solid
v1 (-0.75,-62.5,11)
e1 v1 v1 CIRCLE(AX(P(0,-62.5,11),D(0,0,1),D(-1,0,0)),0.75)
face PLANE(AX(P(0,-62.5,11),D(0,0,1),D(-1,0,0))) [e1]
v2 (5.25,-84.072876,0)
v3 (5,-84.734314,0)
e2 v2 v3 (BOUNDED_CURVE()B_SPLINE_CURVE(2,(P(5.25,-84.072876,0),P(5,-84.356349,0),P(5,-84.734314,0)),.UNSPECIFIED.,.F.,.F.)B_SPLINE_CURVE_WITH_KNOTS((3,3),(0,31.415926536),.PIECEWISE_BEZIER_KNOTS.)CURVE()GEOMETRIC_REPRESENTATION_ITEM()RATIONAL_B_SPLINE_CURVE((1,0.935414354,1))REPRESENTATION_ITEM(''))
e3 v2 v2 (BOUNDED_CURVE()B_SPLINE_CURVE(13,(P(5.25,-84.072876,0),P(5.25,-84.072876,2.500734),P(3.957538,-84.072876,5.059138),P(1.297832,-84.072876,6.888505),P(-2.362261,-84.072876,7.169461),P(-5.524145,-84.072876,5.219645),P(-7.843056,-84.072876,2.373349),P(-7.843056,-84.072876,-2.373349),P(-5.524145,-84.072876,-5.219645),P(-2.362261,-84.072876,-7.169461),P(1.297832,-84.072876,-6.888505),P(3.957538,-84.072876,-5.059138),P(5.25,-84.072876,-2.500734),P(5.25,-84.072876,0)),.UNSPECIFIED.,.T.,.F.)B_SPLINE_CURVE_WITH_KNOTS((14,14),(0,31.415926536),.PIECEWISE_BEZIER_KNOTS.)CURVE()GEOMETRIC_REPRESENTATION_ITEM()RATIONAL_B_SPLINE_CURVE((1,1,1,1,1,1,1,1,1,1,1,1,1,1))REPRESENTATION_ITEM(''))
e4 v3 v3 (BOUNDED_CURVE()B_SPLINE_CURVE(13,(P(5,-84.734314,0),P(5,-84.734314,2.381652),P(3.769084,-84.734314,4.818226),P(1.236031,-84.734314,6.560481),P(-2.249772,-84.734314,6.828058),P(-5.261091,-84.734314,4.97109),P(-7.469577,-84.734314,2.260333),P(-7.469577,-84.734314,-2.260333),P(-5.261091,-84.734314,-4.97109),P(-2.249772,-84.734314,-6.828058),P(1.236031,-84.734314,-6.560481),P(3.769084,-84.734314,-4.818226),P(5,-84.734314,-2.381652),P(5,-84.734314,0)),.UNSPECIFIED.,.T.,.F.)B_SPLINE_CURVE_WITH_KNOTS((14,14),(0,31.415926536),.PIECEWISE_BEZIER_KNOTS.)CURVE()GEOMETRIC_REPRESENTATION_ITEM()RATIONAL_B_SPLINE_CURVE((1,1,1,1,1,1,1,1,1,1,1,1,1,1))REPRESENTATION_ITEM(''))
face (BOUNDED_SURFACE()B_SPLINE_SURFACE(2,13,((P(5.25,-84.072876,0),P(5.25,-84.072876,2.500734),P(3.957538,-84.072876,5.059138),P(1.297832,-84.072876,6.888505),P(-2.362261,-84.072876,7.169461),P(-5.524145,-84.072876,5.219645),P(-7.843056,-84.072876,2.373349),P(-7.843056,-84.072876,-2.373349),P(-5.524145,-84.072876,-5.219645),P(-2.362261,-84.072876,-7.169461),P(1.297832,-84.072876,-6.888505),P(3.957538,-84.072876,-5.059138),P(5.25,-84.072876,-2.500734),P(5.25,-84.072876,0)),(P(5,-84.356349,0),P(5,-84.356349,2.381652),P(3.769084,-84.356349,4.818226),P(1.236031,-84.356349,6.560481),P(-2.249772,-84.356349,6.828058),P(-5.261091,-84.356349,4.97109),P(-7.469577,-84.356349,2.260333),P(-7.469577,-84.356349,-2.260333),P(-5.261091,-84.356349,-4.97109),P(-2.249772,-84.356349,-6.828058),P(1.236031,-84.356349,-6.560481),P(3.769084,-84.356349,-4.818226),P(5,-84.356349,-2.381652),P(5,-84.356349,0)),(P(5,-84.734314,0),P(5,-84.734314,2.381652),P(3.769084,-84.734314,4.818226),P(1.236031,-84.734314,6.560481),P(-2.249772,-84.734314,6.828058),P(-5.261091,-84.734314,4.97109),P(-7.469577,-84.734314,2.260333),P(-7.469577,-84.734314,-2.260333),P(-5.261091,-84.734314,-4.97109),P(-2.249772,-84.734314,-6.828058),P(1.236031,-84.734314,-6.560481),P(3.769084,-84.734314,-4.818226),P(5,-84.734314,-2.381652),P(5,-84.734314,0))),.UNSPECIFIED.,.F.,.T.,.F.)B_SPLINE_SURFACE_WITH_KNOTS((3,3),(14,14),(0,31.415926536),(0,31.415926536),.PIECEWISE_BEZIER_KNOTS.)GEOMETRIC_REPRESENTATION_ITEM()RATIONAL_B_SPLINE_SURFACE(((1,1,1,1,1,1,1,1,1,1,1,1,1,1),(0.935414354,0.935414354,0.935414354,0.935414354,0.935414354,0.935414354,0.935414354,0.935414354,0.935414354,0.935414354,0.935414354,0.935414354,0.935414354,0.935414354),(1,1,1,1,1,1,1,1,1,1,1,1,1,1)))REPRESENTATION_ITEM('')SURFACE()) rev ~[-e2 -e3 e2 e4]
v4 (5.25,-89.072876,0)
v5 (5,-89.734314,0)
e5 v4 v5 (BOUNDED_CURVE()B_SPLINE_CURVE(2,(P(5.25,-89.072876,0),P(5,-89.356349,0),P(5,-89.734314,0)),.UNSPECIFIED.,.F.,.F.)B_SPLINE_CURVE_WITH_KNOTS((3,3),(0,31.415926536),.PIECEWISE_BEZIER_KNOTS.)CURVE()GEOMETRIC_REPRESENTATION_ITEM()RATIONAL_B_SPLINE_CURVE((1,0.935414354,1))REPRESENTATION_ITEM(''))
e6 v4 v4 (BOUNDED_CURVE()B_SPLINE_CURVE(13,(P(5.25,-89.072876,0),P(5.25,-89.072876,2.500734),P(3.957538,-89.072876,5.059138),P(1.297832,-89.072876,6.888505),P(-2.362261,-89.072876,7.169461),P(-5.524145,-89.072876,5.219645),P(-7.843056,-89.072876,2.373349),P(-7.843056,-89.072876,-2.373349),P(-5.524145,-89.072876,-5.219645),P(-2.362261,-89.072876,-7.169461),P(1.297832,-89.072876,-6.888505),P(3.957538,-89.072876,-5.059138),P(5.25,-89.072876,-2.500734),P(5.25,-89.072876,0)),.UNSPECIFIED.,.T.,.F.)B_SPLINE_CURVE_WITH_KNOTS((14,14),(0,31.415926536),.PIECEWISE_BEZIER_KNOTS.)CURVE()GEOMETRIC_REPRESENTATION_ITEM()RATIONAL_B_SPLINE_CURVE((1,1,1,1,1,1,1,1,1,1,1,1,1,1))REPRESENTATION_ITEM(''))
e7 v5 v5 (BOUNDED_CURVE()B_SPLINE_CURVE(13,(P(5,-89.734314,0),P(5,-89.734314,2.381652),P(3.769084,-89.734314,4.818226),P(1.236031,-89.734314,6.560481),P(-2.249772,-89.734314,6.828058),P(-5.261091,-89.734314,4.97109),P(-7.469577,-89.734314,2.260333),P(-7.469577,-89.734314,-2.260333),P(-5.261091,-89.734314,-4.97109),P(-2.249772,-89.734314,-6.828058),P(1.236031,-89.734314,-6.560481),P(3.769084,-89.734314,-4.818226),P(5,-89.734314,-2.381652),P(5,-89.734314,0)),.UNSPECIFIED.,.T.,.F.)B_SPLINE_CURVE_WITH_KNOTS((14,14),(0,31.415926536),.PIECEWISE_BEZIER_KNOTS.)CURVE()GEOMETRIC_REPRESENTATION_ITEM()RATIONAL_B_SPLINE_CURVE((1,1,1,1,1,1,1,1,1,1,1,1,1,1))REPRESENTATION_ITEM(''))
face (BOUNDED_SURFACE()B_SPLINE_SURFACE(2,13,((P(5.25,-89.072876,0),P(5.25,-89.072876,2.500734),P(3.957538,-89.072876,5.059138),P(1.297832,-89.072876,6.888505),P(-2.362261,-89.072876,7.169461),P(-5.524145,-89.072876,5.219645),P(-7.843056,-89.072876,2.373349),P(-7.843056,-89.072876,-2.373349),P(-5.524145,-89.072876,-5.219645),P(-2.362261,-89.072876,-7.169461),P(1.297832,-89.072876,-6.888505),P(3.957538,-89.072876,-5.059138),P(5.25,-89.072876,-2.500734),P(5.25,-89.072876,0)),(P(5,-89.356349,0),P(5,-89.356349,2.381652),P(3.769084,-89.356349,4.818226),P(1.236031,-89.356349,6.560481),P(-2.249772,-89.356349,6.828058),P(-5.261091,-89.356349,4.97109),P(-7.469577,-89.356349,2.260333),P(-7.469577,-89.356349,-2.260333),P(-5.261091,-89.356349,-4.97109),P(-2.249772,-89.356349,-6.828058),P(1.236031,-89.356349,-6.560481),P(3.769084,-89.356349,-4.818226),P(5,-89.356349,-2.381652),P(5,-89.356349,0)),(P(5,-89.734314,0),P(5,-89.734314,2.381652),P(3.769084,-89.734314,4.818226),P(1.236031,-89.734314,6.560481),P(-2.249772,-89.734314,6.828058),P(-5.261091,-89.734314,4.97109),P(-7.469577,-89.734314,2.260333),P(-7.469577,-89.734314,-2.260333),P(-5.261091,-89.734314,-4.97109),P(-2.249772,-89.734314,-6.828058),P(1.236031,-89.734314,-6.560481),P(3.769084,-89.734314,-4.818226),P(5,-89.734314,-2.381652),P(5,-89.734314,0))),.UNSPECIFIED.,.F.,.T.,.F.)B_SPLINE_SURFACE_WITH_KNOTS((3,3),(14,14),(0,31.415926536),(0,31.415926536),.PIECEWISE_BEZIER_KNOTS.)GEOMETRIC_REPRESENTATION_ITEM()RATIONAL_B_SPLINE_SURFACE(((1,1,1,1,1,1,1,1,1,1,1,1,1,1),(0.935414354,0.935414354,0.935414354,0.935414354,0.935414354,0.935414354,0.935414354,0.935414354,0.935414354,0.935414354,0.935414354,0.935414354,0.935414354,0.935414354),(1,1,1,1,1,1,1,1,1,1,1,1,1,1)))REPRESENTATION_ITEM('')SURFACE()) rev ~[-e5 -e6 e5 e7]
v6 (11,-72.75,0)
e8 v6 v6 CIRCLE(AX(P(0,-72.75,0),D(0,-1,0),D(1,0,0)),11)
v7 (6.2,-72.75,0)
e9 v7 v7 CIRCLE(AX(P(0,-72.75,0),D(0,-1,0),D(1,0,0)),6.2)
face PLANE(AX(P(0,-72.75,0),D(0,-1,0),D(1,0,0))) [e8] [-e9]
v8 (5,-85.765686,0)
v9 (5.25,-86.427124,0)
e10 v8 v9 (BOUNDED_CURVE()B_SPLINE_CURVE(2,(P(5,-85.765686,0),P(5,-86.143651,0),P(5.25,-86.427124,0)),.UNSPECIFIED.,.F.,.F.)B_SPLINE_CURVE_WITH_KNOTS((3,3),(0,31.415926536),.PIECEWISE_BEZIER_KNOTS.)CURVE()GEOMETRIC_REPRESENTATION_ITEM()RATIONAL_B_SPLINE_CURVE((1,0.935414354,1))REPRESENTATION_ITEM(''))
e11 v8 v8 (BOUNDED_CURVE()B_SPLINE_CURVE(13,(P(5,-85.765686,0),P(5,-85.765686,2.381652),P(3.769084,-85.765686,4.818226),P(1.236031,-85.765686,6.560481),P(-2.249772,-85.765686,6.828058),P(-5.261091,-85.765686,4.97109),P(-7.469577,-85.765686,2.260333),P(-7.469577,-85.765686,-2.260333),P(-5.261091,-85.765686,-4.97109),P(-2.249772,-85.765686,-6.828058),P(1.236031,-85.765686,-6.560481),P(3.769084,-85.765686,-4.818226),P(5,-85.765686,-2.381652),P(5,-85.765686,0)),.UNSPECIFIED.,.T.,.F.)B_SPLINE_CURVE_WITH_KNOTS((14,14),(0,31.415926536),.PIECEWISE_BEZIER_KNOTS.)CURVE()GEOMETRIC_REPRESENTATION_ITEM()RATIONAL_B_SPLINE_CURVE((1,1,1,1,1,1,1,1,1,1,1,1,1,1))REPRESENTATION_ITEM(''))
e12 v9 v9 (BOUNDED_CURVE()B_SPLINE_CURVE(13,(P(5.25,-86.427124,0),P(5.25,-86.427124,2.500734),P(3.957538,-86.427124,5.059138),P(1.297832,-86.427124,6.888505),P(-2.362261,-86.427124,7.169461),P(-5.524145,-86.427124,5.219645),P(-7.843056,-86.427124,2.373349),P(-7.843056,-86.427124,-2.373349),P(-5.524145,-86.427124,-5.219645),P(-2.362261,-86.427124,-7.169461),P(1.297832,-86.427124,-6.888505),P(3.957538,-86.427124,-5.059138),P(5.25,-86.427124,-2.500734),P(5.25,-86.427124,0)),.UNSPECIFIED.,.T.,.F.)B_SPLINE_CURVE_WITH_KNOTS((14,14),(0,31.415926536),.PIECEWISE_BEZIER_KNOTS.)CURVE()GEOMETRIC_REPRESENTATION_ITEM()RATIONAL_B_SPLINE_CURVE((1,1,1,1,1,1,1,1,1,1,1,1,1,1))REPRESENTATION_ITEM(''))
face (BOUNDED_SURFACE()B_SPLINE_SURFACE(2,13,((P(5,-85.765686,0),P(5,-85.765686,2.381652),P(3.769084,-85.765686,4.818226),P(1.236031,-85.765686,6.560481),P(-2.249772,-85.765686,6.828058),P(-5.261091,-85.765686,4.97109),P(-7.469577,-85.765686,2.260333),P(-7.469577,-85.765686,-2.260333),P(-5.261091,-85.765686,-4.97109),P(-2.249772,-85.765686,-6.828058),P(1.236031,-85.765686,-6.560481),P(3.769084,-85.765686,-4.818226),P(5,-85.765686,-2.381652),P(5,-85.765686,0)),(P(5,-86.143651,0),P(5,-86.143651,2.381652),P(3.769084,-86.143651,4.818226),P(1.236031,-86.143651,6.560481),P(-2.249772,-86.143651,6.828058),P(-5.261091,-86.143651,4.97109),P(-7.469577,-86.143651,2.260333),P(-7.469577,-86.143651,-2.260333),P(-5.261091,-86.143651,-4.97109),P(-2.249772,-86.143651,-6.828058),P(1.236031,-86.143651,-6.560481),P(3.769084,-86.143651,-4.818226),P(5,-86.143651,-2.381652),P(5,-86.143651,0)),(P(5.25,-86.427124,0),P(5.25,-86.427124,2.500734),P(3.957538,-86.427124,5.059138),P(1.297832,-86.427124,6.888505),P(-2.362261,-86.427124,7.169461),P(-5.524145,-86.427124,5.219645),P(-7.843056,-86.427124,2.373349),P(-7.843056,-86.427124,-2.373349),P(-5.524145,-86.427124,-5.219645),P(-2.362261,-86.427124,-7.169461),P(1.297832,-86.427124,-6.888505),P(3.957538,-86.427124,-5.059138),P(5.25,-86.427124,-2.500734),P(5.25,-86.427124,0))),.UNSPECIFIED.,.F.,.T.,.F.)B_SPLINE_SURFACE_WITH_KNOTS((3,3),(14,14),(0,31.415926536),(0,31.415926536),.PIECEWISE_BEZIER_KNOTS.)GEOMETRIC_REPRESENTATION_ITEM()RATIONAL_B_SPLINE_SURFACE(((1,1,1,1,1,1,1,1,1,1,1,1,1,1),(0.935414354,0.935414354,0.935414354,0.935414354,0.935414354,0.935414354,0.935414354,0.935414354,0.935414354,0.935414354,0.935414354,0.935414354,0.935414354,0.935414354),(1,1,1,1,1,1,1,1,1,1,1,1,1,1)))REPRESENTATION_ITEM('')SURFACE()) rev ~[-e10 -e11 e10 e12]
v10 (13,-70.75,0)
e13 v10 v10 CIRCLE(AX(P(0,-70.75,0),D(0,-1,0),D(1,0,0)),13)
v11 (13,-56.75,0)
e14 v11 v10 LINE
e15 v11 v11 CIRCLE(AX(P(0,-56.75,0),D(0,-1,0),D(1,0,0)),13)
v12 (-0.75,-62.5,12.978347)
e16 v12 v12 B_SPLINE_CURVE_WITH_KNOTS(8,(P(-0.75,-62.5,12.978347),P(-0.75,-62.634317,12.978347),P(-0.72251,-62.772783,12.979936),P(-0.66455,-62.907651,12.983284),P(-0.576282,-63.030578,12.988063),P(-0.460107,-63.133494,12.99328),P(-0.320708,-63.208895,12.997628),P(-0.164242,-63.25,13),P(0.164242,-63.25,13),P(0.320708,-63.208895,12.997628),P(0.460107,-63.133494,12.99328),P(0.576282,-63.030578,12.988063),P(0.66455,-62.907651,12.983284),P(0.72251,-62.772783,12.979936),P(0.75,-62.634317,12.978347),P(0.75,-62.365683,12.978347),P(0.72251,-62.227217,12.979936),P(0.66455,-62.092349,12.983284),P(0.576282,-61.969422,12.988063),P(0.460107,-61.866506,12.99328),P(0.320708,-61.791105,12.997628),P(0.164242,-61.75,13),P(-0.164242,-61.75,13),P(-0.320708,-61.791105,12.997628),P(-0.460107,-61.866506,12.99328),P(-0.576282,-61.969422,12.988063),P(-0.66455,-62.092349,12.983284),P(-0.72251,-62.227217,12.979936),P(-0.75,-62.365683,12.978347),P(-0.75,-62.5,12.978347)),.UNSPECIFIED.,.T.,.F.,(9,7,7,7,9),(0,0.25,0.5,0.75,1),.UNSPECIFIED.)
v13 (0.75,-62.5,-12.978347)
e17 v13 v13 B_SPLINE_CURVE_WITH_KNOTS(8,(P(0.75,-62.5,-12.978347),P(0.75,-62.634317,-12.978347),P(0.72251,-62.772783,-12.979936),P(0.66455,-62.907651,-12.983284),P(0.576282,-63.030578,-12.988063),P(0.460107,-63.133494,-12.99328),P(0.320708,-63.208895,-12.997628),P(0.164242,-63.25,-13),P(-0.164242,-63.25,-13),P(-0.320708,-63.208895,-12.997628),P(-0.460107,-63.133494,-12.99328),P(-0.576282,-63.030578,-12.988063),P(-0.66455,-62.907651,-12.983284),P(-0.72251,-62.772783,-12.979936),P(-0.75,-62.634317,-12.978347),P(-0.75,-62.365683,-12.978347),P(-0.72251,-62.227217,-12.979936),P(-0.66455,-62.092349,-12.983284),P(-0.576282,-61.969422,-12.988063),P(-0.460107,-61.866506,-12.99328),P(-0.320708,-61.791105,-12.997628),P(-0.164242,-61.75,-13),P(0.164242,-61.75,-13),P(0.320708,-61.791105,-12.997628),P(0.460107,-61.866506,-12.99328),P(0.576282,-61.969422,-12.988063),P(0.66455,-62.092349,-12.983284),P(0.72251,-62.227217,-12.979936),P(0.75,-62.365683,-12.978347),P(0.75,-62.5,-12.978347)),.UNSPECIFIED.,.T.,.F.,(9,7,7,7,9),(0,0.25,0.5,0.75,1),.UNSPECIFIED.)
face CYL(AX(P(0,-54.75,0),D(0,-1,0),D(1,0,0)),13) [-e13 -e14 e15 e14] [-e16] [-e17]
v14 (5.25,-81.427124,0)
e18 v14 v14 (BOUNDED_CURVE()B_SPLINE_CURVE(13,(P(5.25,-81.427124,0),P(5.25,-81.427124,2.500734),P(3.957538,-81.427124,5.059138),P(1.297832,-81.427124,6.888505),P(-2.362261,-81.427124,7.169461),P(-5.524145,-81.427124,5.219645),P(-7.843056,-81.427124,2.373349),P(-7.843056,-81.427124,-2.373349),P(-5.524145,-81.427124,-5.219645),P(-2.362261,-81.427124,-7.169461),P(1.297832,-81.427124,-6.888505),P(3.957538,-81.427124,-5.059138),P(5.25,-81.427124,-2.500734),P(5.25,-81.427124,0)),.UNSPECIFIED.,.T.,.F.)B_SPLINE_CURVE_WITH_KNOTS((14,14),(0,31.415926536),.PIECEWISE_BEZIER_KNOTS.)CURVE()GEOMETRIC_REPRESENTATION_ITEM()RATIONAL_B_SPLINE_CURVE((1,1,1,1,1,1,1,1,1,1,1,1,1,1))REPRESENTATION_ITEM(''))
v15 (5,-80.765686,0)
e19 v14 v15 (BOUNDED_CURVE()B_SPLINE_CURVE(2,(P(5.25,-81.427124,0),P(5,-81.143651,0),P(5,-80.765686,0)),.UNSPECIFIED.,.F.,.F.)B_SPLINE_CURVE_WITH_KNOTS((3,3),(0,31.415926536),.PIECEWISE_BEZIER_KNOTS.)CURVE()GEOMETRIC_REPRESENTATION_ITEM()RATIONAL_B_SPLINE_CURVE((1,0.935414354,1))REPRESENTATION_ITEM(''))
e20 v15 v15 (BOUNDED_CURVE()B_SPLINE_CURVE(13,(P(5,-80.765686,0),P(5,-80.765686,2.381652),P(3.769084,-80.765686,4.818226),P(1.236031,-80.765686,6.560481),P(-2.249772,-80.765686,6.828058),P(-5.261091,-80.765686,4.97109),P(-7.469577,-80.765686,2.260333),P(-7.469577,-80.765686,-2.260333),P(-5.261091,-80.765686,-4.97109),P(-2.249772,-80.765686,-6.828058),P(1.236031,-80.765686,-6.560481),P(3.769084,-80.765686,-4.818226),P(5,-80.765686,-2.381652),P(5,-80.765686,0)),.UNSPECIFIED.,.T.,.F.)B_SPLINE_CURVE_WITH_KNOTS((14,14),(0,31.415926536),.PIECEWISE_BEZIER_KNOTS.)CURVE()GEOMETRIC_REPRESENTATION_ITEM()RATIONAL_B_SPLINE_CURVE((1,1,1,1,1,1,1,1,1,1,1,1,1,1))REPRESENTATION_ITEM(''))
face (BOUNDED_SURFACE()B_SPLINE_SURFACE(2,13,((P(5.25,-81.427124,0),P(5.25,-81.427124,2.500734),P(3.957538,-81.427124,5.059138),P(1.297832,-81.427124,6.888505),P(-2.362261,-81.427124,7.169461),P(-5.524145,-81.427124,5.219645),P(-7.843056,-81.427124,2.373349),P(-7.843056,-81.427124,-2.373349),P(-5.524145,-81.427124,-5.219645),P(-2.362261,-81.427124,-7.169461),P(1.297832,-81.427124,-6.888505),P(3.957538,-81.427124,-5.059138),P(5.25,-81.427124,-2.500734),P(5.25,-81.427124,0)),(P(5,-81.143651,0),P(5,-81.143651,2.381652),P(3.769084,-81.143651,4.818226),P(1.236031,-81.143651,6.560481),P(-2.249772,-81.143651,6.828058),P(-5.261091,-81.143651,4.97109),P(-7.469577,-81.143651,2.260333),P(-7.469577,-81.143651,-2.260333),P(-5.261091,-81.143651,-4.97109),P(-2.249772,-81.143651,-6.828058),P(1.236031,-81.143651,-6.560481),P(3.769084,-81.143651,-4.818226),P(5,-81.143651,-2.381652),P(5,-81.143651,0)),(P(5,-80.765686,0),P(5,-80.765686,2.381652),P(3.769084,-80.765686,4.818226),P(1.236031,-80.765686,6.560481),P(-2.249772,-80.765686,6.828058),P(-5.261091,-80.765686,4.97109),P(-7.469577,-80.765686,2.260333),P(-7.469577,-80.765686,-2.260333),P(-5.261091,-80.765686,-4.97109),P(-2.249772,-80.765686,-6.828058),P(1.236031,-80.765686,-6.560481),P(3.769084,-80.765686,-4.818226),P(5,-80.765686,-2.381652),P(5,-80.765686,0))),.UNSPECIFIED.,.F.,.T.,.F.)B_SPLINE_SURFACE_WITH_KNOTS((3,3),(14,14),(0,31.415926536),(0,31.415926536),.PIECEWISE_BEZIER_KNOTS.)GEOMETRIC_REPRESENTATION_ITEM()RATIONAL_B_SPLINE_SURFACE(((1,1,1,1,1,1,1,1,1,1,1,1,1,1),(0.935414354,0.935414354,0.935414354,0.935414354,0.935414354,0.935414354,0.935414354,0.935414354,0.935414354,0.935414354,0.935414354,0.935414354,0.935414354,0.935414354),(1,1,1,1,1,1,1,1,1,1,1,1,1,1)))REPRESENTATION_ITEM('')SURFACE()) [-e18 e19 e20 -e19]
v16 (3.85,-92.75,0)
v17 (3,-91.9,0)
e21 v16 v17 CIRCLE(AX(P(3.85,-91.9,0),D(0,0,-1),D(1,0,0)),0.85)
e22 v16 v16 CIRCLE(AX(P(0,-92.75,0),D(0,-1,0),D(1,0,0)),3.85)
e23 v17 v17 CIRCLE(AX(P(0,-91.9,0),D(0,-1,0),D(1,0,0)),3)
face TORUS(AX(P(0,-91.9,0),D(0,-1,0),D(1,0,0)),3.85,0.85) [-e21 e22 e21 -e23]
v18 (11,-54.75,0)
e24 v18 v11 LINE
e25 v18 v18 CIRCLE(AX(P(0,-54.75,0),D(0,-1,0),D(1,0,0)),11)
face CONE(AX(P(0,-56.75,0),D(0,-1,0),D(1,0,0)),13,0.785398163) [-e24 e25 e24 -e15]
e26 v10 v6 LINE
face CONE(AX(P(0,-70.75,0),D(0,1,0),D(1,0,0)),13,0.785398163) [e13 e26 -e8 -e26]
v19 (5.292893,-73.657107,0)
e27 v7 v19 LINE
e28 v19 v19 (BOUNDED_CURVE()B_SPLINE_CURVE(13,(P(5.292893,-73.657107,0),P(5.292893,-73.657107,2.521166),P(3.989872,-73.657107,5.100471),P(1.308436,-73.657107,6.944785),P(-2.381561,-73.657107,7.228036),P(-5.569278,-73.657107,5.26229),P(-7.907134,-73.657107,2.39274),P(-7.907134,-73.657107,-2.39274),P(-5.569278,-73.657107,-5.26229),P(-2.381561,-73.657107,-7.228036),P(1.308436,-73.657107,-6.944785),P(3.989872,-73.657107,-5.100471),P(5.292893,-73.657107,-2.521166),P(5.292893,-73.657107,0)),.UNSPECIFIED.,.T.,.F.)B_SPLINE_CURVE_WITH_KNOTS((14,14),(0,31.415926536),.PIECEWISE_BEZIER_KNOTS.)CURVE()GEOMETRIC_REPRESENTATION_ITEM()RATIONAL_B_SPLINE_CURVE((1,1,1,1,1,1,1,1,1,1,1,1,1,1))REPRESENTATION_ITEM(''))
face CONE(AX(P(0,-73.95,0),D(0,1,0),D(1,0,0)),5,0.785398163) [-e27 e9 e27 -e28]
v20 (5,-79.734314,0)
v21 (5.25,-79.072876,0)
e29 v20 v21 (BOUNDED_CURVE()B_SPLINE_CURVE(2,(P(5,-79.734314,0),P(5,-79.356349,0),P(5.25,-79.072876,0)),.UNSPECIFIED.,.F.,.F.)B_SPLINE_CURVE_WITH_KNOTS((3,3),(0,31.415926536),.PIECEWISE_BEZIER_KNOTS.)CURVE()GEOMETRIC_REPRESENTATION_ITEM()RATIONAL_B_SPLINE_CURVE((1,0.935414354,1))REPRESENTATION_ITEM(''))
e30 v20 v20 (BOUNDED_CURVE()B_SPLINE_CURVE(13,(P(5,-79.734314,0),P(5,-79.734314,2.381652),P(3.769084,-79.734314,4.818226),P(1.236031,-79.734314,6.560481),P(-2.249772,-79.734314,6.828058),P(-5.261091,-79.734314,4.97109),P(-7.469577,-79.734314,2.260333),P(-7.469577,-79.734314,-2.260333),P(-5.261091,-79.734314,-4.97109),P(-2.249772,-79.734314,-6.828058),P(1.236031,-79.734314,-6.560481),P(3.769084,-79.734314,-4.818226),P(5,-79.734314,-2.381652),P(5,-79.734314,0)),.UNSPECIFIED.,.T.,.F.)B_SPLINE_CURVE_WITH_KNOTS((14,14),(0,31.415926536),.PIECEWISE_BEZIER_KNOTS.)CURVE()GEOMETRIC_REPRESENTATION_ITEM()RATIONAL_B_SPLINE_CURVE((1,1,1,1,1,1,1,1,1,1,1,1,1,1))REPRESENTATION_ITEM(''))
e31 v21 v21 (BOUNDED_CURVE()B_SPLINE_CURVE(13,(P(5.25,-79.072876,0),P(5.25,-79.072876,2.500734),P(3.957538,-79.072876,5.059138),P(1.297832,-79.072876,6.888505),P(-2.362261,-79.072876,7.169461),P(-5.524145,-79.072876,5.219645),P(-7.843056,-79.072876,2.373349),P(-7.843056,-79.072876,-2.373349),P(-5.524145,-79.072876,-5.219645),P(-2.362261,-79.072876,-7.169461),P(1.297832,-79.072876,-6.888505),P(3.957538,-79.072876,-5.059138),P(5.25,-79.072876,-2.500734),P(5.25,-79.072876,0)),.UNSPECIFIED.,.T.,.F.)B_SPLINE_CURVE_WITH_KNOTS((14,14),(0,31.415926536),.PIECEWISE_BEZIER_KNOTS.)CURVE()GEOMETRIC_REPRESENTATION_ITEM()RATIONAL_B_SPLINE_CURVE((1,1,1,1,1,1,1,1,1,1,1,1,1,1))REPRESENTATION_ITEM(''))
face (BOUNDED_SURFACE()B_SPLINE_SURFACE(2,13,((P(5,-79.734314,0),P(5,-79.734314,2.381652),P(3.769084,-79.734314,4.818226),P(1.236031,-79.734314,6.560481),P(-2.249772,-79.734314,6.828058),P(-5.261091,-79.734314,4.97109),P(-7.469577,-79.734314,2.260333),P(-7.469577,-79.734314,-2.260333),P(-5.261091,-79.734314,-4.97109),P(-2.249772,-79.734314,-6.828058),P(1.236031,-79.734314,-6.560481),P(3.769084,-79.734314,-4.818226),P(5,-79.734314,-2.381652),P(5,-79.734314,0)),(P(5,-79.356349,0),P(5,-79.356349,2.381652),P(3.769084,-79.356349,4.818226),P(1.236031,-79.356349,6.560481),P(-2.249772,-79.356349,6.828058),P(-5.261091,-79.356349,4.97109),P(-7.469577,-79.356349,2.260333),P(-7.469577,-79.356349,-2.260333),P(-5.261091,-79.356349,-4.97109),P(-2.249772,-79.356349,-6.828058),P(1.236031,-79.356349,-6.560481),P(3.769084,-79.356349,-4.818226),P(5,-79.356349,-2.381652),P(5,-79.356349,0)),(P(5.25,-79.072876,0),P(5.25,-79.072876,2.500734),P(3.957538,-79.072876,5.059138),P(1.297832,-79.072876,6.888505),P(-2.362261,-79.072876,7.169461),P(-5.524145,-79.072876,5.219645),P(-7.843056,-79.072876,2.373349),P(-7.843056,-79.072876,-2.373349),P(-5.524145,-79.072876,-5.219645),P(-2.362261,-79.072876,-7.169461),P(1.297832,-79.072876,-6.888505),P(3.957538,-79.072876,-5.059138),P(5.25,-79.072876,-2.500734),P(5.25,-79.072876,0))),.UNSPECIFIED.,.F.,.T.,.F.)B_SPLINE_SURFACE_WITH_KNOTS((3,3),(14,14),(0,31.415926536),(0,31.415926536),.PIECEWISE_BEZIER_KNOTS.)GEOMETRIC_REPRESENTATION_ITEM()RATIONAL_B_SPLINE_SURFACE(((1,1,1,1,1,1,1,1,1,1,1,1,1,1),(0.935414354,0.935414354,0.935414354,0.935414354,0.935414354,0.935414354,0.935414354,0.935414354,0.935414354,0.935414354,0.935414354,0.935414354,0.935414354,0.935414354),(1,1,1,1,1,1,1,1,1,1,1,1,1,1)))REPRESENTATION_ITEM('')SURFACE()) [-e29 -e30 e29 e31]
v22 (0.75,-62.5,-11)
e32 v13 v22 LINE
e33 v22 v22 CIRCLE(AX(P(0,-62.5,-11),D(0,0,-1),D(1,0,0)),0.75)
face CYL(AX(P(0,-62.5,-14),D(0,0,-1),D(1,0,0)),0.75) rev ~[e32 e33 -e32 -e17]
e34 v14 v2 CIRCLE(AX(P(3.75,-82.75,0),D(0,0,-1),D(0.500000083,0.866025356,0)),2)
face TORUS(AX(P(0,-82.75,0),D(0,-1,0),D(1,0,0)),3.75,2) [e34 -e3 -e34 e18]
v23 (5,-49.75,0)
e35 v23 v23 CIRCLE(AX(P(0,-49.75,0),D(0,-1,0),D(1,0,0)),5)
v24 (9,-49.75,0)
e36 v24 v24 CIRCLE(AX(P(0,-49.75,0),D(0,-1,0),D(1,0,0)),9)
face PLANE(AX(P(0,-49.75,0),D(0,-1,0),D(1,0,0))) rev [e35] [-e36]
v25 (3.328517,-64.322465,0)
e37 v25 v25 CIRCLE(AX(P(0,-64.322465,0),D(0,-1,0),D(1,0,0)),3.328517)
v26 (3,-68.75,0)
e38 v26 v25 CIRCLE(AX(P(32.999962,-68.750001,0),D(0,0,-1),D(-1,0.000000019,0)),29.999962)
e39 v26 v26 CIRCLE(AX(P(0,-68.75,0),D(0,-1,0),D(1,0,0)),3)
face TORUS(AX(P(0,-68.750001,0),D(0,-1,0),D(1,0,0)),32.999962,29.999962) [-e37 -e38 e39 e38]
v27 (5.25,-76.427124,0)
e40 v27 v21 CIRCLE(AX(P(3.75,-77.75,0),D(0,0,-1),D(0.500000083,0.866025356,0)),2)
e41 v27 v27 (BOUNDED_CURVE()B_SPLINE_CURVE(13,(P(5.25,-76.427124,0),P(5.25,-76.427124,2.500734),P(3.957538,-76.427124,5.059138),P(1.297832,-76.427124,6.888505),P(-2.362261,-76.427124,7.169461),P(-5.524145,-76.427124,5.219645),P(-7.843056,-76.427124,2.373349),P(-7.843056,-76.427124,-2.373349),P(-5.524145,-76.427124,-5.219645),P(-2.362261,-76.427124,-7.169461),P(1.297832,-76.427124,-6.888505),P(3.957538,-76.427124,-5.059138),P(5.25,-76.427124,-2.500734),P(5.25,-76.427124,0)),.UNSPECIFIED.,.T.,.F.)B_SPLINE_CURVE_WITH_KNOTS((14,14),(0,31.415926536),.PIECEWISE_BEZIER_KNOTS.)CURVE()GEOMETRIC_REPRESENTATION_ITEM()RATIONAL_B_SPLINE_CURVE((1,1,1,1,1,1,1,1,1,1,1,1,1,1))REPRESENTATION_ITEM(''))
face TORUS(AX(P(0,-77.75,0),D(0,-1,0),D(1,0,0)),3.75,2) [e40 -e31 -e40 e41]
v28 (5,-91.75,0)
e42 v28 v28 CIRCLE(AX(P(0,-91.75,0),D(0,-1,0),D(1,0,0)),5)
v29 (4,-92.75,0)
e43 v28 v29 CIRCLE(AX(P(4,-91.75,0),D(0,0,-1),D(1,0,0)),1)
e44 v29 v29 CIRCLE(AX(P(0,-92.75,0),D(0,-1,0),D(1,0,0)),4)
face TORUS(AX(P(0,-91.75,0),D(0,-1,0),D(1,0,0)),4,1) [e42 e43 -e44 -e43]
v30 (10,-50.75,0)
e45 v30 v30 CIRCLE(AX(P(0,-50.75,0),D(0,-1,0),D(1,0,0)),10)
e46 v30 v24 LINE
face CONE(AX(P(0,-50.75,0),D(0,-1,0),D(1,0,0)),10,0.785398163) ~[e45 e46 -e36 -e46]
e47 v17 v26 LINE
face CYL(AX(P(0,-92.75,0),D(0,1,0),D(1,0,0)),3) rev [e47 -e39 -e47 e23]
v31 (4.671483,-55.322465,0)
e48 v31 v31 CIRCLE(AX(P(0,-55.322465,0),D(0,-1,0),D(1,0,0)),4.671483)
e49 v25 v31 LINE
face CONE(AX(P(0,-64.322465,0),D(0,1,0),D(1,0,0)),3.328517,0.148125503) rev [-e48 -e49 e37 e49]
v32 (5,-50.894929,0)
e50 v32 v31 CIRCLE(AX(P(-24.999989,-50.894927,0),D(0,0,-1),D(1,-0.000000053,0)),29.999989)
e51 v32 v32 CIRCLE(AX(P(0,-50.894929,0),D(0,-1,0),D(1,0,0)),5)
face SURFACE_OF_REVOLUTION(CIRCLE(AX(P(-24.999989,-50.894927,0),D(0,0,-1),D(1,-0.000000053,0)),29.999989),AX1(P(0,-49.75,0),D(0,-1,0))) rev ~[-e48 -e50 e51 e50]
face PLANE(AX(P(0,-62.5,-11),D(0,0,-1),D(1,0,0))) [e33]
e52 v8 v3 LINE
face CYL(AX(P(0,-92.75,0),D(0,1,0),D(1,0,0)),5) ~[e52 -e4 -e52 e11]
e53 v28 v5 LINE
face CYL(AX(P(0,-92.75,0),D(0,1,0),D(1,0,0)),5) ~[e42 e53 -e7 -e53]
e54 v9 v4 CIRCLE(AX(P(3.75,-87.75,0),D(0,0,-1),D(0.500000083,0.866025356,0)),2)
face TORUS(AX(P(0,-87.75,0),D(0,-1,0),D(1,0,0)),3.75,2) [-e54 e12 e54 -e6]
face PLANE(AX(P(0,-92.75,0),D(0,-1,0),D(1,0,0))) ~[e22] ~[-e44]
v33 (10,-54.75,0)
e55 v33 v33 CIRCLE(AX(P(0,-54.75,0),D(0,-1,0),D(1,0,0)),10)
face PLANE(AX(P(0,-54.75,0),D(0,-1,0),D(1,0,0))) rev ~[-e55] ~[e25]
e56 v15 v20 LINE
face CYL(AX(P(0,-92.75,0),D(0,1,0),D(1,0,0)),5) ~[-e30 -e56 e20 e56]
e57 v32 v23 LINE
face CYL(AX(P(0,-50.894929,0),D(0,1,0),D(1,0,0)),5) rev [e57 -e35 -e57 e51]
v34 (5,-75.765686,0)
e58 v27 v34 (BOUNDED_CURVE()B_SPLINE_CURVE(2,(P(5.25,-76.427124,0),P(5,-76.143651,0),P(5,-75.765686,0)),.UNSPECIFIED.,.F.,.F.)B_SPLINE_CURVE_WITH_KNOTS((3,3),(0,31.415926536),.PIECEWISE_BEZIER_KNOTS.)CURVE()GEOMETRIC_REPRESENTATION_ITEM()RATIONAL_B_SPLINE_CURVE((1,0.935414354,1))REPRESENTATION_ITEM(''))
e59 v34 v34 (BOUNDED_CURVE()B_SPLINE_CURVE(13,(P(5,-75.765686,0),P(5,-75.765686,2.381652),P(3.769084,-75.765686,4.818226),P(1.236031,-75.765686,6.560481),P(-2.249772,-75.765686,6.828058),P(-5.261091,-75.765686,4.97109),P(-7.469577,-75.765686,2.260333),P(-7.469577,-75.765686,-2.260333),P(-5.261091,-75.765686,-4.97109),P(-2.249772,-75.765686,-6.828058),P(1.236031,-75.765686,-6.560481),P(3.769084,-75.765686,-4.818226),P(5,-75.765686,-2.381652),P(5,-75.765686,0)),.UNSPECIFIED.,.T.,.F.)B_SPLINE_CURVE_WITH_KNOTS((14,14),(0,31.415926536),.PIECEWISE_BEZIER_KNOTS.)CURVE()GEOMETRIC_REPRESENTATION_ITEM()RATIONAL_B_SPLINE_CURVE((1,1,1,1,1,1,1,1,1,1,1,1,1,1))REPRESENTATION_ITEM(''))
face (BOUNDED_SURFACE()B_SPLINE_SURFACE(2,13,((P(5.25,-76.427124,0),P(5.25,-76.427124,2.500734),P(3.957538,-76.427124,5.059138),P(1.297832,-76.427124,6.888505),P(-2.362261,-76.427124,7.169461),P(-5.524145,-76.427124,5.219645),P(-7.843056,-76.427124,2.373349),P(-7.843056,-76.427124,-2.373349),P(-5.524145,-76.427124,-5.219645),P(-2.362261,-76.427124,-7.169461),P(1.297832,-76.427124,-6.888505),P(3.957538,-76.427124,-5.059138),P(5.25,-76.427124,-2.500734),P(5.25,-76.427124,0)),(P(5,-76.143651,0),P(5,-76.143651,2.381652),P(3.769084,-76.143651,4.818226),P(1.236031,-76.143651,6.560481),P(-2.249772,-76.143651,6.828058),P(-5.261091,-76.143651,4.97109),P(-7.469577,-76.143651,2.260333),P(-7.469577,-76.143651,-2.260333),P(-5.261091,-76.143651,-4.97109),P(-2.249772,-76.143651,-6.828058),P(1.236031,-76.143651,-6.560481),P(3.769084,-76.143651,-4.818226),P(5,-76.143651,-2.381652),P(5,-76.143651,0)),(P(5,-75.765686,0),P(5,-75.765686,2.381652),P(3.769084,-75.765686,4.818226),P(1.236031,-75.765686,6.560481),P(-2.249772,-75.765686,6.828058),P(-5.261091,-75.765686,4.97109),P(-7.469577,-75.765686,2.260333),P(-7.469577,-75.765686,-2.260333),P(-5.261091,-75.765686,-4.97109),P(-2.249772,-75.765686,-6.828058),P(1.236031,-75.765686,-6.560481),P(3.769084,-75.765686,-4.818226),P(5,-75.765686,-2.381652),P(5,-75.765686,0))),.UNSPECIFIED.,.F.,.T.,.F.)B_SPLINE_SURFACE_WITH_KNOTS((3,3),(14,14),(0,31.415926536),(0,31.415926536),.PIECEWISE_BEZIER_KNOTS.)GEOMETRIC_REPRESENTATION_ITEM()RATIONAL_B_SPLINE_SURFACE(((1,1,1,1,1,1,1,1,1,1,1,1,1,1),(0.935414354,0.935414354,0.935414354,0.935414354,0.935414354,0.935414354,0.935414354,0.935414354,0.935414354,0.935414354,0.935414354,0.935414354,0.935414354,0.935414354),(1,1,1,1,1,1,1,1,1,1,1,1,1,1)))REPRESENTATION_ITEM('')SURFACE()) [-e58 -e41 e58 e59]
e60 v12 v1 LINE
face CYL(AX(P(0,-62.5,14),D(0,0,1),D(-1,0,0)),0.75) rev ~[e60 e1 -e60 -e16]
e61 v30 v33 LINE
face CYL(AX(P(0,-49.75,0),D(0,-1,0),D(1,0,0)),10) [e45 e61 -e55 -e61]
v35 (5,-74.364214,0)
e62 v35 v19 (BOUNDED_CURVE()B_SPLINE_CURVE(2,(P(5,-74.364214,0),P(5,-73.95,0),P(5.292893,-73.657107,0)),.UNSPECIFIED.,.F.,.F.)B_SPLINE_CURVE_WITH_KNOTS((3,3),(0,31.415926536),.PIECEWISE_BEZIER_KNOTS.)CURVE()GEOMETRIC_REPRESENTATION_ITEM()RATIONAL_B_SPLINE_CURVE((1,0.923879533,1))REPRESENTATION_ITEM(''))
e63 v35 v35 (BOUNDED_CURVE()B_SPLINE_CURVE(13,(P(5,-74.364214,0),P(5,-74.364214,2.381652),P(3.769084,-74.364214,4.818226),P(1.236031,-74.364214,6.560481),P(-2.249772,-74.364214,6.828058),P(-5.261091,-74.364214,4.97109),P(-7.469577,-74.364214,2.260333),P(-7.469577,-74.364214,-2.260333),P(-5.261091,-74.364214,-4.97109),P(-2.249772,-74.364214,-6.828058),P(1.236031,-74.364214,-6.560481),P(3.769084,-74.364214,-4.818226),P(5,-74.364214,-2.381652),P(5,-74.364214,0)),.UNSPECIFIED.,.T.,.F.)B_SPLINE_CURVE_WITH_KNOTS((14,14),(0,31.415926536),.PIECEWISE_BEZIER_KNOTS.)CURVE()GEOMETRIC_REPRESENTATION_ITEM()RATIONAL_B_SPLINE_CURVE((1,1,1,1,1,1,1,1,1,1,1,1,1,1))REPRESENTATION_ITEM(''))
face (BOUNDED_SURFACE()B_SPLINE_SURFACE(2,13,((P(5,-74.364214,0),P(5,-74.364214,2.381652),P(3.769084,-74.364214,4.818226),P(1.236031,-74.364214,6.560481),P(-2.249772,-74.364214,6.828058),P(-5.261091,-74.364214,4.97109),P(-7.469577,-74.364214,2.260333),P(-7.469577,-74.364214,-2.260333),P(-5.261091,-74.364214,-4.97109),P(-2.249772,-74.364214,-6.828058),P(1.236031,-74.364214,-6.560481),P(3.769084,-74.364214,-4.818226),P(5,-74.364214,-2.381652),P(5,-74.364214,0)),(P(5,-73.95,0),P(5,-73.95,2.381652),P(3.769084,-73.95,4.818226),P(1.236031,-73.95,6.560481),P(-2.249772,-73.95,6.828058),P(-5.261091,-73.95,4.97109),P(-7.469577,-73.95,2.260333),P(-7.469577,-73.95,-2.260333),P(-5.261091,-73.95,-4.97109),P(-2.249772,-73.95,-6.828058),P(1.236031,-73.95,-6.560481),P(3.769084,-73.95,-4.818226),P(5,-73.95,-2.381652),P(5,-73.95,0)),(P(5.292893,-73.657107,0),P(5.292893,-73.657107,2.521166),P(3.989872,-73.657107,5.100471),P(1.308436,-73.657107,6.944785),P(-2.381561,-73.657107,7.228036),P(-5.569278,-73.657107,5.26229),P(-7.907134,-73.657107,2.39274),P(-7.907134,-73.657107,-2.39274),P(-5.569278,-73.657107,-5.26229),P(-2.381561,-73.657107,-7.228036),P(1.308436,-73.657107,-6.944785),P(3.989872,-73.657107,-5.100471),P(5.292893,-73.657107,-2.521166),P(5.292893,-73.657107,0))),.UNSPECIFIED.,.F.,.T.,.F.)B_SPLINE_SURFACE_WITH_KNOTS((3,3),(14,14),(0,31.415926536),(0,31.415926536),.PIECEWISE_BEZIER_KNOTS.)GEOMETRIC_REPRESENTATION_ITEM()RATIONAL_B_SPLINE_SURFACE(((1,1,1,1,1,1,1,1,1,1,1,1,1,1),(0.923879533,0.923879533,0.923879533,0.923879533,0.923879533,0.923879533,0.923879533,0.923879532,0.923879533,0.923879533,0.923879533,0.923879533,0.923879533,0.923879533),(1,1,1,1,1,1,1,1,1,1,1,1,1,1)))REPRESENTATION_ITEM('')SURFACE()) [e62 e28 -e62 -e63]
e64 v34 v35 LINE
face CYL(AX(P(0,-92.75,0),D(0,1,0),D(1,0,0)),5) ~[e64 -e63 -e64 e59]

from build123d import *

# Parameters (mm, degrees)
CHAMFER011_SIZE         = 1.2
CHAMFER012_SIZE         = 1
CHAMFER013_SIZE         = 2
SKETCH132_R             = 0.75
POCKET045_DEPTH         = 3
POLARPATTERN009_COUNT   = 2
POLARPATTERN009_ANGLE   = 180
LINEARPATTERN003_COUNT  = 3
LINEARPATTERN003_PITCH  = 5
FILLET055_R             = 1
FILLET056_R             = 0.85
BODY056_PLACEMENT_ANGLE = 180


with BuildPart() as part:
    # Sketch131 → Revolution002 (revolve)
    with BuildSketch(Plane.XY):
        with BuildLine():
            Line((5, 0), (10, 0))
            Line((10, 0), (10, 5))
            Line((13, 5), (10, 5))
            Line((13, 5), (13, 23))
            Line((13, 23), (5, 23))
            Line((5, 43), (5, 23))
            Line((3, 43), (5, 43))
            Line((3, 43), (3, 19))
            ThreePointArc((3, 19), (3.082242, 16.780147), (3.328517, 14.572465))
            Line((3.328517, 14.572465), (4.671483, 5.572465))
            ThreePointArc((5, 1.144929), (4.917758, 3.364782), (4.671483, 5.572465))
            Line((5, 1.144929), (5, 0))
        make_face()
    revolve(axis=Axis((0, 0, 0), (0, 1, 0)))

    # Chamfer011
    chamfer011_edges = [part.edges().sort_by_distance(p)[0] for p in [
        (-5, 23, 0),
    ]]
    chamfer(chamfer011_edges, length=CHAMFER011_SIZE)

    # Chamfer012
    chamfer012_edges = [part.edges().sort_by_distance(p)[0] for p in [
        (-10, 0, 0),
    ]]
    chamfer(chamfer012_edges, length=CHAMFER012_SIZE)

    # Chamfer013
    chamfer013_edges = [part.edges().sort_by_distance(p)[0] for p in [
        (-13, 5, 0),
        (-13, 23, 0),
        (13, 14, 0),
    ]]
    chamfer(chamfer013_edges, length=CHAMFER013_SIZE)

    # Sketch132 (on DatumPlane) → Pocket045 (cut)
    with BuildSketch(Plane.XY.offset(14)):
        with Locations((0, 12.75)):
            Circle(SKETCH132_R)
    pocket045 = extrude(amount=-POCKET045_DEPTH, mode=Mode.SUBTRACT)

    # PolarPattern009: Pocket045 ×2 about axis
    polarpattern009_axis = Axis((0, 0, 0), (0, 1, 0))
    for i in range(1, POLARPATTERN009_COUNT):
        add(pocket045.rotate(polarpattern009_axis, i * POLARPATTERN009_ANGLE / (POLARPATTERN009_COUNT - 1)), mode=Mode.SUBTRACT)

    # Sketch133 → Revolution003 (revolve)
    with BuildSketch(Plane.XY):
        with BuildLine():
            ThreePointArc((4.75, 36.267949), (5.75, 38), (4.75, 39.732051))
            Line((4.75, 39.732051), (4.75, 36.267949))
        make_face()
    revolution003 = revolve(axis=Axis((0, 0, 0), (0, 1, 0)))

    # LinearPattern003: Revolution003 ×3
    with Locations(*[(0, -i * LINEARPATTERN003_PITCH, 0) for i in range(1, LINEARPATTERN003_COUNT)]):
        add(revolution003)

    # Fillet055
    fillet055_edges = [part.edges().sort_by_distance(p)[0] for p in [
        (-5, 43, 0),
        (5, 41.280625, 0),
        (-5, 39.561249, 0),
        (5, 35.5, 0),
        (-5, 34.561249, 0),
        (-5, 36.438751, 0),
        (5, 30.5, 0),
        (-5, 29.561249, 0),
        (-5, 31.438751, 0),
        (-5, 26.438751, 0),
        (5, 25.319375, 0),
        (-5, 24.2, 0),
    ]]
    fillet(fillet055_edges, radius=FILLET055_R)

    # Fillet056
    fillet056_edges = [part.edges().sort_by_distance(p)[0] for p in [
        (-3, 43, 0),
    ]]
    fillet(fillet056_edges, radius=FILLET056_R)


with BuildPart() as part_1:
    # Body056 placement: moved
    add(part.part.moved(Location((0, -49.75, 0))).rotate(Axis((0, -49.75, 0), (1, 0, 0)), BODY056_PLACEMENT_ANGLE))


solid = part_1.part
